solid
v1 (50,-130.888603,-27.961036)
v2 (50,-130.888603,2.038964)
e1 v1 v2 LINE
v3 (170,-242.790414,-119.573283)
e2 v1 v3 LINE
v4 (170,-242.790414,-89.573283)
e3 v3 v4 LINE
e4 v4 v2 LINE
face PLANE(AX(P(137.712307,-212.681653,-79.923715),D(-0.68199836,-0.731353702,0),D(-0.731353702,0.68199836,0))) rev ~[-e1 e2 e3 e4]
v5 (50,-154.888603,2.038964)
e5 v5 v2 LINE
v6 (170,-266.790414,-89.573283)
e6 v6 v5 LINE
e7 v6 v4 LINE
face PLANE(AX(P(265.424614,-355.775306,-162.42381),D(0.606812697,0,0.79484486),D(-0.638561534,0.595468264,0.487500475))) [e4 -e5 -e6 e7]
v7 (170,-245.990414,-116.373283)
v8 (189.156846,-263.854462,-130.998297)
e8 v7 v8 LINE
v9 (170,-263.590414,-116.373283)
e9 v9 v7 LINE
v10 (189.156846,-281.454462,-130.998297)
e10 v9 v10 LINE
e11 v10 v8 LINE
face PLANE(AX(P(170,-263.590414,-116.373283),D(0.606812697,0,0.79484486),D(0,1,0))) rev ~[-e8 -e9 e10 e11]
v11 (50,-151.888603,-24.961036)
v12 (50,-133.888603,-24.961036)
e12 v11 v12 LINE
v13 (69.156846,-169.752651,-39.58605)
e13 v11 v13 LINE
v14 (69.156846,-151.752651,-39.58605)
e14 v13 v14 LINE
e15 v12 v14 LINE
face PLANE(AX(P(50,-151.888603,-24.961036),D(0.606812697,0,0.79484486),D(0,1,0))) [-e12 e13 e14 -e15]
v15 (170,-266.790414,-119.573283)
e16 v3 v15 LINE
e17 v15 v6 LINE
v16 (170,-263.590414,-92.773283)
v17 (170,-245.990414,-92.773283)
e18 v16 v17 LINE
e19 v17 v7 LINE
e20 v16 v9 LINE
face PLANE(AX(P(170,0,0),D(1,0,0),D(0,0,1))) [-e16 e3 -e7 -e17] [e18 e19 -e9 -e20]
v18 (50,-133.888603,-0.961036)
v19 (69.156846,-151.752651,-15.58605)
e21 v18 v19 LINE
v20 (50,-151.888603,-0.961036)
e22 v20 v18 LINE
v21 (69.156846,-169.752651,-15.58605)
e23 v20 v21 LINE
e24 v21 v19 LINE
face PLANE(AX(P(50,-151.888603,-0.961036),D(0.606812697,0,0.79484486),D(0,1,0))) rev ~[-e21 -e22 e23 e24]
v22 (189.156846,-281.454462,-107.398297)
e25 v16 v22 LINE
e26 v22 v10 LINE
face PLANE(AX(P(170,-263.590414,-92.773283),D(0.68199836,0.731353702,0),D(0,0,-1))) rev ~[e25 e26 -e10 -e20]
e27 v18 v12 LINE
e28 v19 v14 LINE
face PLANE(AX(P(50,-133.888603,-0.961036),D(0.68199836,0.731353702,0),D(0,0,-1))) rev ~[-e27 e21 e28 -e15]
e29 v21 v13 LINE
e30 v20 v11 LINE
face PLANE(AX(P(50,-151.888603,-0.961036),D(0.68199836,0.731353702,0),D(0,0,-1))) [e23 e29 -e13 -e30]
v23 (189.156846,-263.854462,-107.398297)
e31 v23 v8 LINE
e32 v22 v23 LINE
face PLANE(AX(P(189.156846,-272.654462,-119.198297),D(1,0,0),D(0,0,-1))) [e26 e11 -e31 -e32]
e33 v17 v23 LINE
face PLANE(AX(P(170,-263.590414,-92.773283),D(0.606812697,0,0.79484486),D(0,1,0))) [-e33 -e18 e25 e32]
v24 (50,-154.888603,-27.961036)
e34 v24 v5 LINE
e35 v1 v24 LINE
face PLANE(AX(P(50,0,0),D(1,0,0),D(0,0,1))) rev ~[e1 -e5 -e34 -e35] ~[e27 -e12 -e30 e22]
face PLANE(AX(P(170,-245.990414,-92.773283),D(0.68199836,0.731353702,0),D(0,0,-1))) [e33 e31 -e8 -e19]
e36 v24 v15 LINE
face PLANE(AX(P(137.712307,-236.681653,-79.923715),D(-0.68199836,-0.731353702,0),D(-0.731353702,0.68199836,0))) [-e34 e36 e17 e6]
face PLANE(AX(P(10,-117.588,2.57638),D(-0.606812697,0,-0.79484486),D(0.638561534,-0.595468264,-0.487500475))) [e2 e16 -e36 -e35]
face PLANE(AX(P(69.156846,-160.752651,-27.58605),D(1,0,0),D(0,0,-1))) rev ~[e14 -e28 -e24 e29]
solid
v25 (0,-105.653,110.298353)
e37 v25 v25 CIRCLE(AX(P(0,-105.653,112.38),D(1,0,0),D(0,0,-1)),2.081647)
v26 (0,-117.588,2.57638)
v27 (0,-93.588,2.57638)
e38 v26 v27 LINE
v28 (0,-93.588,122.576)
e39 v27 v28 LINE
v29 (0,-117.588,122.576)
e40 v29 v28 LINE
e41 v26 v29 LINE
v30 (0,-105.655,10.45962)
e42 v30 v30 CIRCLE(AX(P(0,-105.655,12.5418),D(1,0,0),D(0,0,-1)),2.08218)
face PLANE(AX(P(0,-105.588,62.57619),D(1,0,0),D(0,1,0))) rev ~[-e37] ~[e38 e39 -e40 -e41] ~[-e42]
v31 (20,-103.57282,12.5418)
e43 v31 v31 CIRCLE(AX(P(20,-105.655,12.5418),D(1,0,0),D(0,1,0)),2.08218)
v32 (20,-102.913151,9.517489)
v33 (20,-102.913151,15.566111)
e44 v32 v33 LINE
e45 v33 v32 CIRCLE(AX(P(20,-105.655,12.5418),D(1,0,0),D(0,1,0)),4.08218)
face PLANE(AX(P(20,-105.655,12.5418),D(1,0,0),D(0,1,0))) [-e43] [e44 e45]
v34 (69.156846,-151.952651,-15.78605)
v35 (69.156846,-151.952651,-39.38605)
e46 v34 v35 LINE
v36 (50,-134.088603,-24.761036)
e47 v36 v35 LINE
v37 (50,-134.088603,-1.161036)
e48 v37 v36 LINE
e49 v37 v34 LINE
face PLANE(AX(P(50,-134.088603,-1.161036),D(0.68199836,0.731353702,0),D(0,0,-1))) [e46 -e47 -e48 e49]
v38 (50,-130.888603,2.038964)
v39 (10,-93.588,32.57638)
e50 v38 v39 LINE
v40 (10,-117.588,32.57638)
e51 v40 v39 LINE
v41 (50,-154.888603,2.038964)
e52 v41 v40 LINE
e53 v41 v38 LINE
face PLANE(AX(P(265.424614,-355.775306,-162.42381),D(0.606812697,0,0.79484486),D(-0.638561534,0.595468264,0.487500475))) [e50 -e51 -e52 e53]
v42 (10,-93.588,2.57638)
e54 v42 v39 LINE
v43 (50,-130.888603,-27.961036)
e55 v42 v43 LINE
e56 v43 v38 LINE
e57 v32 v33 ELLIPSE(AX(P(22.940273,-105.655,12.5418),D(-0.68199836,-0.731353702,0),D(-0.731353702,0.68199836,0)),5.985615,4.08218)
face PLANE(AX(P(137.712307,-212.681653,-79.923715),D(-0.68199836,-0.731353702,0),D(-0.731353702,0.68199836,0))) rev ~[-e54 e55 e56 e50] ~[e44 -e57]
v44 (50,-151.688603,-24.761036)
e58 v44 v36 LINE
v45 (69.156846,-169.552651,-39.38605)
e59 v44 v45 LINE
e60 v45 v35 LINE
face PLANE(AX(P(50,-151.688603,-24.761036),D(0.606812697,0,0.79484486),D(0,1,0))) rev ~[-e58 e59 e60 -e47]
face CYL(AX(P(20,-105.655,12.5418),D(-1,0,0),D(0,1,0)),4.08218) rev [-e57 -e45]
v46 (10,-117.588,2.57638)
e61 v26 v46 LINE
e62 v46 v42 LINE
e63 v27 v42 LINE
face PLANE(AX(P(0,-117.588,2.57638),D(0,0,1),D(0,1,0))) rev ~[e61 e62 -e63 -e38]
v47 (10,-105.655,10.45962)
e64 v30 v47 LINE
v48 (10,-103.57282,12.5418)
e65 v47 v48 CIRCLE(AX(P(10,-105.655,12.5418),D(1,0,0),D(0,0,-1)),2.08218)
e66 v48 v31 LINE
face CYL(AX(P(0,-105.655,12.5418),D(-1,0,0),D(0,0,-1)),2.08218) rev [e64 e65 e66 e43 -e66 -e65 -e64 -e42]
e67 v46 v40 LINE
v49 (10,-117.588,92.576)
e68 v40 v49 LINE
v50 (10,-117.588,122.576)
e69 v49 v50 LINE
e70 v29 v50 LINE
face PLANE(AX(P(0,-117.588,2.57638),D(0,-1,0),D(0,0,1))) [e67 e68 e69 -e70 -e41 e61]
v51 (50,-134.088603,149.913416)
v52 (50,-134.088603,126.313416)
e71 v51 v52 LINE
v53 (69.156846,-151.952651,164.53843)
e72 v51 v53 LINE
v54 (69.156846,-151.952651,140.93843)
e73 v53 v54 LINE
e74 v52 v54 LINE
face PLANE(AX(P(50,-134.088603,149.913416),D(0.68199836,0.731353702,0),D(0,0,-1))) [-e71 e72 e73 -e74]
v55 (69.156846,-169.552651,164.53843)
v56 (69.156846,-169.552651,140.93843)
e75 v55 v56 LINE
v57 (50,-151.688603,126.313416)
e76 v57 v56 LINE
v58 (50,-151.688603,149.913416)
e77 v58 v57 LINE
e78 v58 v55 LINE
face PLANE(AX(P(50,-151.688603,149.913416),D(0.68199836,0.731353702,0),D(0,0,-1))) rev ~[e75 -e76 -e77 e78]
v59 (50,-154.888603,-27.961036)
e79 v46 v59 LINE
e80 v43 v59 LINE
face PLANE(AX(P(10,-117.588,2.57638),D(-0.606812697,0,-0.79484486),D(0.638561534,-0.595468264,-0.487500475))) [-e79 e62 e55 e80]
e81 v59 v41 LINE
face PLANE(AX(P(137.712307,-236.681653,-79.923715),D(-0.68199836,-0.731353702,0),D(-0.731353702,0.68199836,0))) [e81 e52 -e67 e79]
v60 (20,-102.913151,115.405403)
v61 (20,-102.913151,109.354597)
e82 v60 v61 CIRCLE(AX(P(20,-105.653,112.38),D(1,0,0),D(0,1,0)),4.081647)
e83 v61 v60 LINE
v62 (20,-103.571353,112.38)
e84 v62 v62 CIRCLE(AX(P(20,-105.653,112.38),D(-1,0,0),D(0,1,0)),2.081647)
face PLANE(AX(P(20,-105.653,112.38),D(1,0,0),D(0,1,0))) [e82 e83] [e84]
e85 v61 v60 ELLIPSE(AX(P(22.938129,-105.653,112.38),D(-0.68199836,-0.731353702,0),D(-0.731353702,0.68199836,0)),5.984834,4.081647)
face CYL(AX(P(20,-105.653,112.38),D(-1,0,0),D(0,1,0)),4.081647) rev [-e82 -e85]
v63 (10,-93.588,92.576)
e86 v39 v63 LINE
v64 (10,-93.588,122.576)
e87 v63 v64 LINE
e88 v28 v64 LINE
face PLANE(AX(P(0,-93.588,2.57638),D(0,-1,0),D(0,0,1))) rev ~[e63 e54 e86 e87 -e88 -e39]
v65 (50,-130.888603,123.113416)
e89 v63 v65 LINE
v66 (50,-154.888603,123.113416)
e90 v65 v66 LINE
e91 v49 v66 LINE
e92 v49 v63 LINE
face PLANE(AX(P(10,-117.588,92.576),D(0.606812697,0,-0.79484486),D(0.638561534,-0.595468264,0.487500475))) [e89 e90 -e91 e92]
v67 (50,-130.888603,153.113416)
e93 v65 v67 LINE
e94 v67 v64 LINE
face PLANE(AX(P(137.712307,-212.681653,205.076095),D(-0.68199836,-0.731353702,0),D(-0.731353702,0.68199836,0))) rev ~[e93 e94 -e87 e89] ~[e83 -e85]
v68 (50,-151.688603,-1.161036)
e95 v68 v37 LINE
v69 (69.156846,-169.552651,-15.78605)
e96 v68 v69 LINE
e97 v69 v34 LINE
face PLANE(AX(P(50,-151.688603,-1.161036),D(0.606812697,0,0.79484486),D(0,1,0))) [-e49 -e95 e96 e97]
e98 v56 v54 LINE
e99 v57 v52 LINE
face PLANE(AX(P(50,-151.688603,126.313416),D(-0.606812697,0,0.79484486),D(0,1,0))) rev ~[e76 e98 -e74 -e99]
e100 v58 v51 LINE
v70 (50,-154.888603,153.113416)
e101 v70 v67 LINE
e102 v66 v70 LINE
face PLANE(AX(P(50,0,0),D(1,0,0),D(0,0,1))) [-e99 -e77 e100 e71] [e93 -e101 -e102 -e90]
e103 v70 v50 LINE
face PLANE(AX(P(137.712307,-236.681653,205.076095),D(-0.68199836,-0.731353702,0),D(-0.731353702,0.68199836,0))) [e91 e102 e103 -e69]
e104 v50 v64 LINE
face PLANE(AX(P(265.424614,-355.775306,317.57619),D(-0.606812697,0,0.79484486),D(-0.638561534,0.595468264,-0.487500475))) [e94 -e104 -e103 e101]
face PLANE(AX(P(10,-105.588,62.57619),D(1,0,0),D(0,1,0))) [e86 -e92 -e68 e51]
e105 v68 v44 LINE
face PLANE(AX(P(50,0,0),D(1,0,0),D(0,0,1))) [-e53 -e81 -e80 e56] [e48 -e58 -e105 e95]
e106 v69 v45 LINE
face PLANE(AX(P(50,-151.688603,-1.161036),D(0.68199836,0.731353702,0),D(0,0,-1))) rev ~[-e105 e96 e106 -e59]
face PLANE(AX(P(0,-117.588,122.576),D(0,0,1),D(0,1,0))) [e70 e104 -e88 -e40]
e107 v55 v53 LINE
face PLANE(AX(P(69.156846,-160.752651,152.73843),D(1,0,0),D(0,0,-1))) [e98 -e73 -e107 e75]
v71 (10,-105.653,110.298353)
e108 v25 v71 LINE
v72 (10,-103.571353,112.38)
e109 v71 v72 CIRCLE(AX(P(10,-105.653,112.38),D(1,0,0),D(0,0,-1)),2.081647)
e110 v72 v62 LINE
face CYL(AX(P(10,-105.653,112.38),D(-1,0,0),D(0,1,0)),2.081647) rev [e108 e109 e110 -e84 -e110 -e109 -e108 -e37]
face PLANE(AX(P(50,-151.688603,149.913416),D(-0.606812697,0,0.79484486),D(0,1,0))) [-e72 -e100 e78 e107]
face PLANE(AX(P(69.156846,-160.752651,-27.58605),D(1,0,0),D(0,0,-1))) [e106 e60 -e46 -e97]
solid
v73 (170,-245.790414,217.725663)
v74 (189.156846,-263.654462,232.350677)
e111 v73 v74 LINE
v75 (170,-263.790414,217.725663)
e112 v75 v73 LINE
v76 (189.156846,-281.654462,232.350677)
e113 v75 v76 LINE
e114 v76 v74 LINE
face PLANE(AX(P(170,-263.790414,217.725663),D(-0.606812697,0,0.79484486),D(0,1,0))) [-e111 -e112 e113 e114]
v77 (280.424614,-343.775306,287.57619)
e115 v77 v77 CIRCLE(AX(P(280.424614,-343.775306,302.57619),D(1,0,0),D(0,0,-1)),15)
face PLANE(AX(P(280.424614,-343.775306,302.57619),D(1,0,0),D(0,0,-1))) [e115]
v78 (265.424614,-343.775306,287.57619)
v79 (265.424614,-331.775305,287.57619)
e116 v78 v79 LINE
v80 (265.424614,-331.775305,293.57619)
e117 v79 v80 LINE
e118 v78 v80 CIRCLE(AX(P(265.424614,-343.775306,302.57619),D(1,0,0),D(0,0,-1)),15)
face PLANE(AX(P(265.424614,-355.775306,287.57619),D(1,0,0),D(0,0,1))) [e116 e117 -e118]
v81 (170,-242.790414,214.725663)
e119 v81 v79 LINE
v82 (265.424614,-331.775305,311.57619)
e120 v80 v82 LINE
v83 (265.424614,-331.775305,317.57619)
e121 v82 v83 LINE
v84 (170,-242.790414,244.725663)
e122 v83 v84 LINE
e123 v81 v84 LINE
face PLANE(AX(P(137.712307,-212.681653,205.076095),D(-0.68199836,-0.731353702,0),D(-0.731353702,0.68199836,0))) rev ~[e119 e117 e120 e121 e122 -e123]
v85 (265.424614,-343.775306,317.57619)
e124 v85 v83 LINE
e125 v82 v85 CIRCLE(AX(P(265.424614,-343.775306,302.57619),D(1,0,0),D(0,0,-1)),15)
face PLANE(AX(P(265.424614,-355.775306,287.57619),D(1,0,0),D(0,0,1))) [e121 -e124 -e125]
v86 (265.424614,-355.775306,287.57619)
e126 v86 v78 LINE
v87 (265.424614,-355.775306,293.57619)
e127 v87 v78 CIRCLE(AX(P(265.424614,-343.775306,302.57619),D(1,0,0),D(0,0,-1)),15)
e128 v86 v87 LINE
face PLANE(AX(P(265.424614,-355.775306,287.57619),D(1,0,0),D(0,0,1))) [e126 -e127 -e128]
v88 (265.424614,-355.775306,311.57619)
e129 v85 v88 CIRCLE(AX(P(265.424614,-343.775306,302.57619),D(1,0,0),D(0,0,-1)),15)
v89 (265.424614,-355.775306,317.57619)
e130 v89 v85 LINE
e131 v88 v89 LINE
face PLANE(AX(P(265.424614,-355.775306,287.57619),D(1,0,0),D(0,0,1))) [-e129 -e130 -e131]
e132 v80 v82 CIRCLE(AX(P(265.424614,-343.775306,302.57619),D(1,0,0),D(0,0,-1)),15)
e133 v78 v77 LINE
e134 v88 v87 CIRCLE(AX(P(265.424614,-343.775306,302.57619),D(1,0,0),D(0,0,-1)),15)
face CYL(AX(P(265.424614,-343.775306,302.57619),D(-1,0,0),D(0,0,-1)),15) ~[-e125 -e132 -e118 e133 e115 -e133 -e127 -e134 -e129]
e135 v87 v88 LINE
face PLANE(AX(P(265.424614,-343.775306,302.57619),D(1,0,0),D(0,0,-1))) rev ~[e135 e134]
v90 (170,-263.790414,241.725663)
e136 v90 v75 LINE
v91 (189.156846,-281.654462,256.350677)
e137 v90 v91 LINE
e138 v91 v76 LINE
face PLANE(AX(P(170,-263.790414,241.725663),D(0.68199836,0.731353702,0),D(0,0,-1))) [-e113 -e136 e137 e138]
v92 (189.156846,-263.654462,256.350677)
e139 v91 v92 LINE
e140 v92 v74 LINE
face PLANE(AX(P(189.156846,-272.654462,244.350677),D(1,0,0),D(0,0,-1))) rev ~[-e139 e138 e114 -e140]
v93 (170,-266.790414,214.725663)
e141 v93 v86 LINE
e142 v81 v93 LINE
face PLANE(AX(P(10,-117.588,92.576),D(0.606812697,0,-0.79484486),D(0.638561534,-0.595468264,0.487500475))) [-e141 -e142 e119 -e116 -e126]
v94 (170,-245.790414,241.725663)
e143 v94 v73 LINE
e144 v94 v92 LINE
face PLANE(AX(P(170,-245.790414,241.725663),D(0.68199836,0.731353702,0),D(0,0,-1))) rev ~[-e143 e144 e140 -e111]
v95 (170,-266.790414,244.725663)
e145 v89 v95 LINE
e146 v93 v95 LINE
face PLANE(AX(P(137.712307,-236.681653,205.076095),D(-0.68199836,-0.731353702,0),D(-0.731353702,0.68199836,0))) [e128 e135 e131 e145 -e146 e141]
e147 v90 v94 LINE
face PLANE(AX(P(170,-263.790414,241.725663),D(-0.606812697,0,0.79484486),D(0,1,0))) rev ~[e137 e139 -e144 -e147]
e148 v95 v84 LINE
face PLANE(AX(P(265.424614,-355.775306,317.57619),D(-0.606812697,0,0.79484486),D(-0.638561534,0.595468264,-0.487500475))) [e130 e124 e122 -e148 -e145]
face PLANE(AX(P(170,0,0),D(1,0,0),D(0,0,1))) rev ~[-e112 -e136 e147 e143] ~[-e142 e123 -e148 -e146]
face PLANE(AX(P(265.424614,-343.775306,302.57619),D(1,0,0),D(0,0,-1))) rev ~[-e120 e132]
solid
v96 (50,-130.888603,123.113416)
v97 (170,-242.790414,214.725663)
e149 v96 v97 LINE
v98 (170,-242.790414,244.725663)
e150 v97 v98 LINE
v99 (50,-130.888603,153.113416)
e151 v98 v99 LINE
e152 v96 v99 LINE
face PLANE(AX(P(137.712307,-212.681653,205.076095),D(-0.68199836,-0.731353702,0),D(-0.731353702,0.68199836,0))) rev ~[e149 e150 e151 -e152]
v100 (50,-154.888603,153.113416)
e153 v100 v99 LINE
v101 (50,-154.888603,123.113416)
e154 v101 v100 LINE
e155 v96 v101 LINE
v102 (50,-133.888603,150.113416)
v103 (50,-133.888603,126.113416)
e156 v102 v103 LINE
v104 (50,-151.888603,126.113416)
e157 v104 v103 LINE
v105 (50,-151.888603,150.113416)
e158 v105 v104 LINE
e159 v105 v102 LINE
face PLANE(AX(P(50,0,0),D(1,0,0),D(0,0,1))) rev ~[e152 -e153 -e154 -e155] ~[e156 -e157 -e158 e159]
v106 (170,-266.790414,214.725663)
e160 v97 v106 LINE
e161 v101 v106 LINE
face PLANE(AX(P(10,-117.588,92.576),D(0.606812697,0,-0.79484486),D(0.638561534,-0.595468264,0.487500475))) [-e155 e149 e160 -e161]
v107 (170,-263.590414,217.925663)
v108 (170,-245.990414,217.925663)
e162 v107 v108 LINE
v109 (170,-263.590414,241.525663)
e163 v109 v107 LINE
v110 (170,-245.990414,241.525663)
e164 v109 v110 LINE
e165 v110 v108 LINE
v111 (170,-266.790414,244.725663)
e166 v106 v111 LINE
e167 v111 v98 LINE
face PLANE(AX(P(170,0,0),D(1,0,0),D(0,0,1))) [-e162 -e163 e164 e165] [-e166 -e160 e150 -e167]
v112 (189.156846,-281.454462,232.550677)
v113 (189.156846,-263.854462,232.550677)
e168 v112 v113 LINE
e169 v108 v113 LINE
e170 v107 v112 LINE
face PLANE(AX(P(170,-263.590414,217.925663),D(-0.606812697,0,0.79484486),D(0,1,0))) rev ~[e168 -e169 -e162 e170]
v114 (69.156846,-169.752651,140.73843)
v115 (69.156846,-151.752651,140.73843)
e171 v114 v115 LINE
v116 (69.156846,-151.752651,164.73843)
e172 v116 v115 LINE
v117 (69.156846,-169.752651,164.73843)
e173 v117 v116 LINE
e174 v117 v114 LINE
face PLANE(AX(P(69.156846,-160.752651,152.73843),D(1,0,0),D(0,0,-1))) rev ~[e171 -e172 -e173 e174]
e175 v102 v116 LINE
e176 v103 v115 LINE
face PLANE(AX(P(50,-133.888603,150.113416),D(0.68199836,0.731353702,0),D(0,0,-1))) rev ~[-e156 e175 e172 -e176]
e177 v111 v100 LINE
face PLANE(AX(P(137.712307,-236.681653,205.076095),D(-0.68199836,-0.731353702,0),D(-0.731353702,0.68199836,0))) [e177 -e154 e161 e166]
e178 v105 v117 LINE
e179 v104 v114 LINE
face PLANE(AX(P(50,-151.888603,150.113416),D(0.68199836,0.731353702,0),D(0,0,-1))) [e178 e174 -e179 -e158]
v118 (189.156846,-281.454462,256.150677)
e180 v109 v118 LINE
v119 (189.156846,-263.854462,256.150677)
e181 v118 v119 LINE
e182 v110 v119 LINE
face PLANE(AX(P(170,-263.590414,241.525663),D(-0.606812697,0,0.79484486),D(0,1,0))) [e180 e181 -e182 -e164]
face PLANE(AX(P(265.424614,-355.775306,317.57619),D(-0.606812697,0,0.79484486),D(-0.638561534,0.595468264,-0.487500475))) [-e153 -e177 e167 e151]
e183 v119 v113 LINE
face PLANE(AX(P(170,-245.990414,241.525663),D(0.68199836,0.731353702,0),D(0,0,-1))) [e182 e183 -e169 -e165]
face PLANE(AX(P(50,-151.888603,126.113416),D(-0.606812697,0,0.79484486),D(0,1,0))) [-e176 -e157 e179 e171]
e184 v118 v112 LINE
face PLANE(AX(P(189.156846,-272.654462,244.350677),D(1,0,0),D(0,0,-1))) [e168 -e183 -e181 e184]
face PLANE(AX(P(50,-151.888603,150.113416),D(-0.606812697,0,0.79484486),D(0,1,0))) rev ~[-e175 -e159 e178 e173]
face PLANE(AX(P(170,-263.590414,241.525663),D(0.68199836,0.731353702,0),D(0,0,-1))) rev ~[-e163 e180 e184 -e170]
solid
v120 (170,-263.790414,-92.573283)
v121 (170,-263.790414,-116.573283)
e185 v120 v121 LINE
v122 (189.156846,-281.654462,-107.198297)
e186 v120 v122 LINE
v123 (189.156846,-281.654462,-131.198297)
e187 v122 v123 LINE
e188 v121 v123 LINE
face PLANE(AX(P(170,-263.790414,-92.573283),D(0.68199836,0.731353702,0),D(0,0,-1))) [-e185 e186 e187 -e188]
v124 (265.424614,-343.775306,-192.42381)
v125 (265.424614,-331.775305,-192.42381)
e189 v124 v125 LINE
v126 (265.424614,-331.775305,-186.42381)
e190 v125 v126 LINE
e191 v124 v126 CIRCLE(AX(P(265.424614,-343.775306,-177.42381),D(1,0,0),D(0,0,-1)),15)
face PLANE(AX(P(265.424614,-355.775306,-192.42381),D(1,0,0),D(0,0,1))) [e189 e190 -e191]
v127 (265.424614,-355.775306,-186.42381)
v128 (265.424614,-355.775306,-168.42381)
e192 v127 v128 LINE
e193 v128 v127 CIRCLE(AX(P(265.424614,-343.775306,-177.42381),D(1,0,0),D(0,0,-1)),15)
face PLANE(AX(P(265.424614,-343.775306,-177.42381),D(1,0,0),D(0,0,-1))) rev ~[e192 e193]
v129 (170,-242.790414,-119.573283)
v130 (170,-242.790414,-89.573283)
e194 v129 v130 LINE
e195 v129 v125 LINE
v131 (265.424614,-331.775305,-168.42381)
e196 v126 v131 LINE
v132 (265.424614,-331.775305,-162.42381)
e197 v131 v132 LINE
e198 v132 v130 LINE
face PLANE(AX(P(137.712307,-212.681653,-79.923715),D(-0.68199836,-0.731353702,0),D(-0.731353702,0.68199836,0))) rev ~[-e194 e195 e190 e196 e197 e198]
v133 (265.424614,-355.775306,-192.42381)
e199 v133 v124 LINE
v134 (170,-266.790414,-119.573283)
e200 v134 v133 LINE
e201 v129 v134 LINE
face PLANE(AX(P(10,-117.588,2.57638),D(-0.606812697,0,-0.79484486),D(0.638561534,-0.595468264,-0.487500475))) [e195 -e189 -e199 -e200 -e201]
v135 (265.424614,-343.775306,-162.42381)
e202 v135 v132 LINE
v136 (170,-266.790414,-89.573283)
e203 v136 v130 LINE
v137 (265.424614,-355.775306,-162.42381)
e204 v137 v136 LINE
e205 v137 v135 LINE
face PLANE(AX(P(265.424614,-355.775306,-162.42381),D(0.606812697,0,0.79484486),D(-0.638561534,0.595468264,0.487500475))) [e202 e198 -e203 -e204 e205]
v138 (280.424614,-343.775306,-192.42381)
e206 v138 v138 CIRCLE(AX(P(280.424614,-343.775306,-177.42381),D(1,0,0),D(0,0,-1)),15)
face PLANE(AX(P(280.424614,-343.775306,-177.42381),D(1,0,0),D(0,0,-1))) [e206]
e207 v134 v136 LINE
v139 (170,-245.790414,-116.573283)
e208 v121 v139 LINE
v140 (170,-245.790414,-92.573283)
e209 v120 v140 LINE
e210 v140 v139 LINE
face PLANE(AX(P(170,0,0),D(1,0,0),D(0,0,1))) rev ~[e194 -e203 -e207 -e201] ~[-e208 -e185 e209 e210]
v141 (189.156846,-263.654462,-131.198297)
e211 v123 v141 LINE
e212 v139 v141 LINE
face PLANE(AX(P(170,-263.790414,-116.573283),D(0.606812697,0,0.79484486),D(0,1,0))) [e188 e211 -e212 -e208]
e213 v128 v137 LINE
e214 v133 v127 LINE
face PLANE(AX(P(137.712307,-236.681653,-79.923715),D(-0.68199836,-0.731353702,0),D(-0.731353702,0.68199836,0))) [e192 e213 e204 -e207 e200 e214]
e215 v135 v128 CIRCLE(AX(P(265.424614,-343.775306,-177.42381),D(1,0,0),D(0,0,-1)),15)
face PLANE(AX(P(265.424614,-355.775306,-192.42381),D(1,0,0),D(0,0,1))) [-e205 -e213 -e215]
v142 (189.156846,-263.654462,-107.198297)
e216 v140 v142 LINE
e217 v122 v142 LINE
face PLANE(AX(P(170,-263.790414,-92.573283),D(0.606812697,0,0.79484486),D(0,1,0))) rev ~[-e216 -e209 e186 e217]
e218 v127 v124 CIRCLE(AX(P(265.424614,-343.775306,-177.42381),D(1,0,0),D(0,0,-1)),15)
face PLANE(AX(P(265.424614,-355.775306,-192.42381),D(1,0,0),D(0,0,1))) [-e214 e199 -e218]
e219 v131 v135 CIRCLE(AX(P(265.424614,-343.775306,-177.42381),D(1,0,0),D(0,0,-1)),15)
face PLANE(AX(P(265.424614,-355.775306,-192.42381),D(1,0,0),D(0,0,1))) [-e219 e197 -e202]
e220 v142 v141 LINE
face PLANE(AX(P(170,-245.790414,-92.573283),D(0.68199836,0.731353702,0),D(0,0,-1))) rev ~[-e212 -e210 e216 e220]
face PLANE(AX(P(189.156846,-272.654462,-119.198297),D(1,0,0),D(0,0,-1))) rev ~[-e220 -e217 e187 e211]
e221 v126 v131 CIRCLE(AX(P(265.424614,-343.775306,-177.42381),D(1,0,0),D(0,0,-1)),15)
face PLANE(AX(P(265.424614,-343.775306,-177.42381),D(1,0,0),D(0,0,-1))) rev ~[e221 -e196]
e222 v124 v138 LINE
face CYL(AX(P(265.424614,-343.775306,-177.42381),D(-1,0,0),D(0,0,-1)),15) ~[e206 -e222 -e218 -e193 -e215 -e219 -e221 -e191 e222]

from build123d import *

# Parameters (mm, degrees)
SKETCH2_W           = 24
SKETCH2_H           = 119.99962
SKETCH2_R           = 2.081646704
SKETCH2_R_2         = 2.082179954
BOSS_EXTRUDE1_DEPTH = 10
BOSS_EXTRUDE2_DEPTH = 24.00000022
SKETCH8_R           = 15
BOSS_EXTRUDE3_DEPTH = 15
SKETCH9_R           = 2.082179954
SKETCH9_R_2         = 2.081646704
CUT_EXTRUDE1_DEPTH  = 551.185267113
CUT_EXTRUDE2_START  = 10
SKETCH10_R          = 4.082179954
SKETCH10_R_2        = 4.081646704
CUT_EXTRUDE2_DEPTH  = 541.185267113
SKETCH11_W          = 24
SKETCH11_H          = 18
CUT_EXTRUDE3_DEPTH  = 30
SKETCH12_W          = 24
SKETCH12_H          = 18
CUT_EXTRUDE4_DEPTH  = 30
SKETCH13_W          = 24
SKETCH13_H          = 18
CUT_EXTRUDE5_DEPTH  = 30
SKETCH14_W          = 24
SKETCH14_H          = 18
CUT_EXTRUDE6_DEPTH  = 30
SKETCH15_W          = 23.6
SKETCH15_H          = 17.6
BOSS_EXTRUDE4_DEPTH = 30
SKETCH16_W          = 23.6
SKETCH16_H          = 17.6
BOSS_EXTRUDE5_DEPTH = 30
SKETCH17_W          = 23.6
SKETCH17_H          = 17.6
BOSS_EXTRUDE6_DEPTH = 30
SKETCH18_W          = 23.6
SKETCH18_H          = 17.6
BOSS_EXTRUDE7_DEPTH = 30


with BuildPart() as part:
    # Sketch2 → Boss-Extrude1 (new body)
    with BuildSketch(Plane.YZ):
        with Locations((-105.588, 62.57619)):
            Rectangle(SKETCH2_W, SKETCH2_H)
        with Locations(Location((-105.653, 112.38, 0), (0, 0, 270))):
            Circle(SKETCH2_R, mode=Mode.SUBTRACT)
        with Locations(Location((-105.655, 12.5418, 0), (0, 0, 270))):
            Circle(SKETCH2_R_2, mode=Mode.SUBTRACT)
    extrude(amount=BOSS_EXTRUDE1_DEPTH)

    # Sketch7 → Boss-Extrude2 (add, along a direction that is not the sketch's normal)
    with BuildSketch(Plane(origin=(-53.99956314, -57.907441866, 0), x_dir=(-0.7313537016191692, 0.6819983600625, 0), z_dir=(-0.6819983600625, -0.7313537016191692, 0))):
        Polygon((-87.508360179, -2.57638), (-436.757448796, 192.42381), (-436.757448796, 162.42381), (-87.508360179, -32.57638), align=None)
        Polygon((-436.757448796, -287.57619), (-436.757448796, -317.57619), (-87.508360179, -122.576), (-87.508360179, -92.576), align=None)
    extrude(amount=-BOSS_EXTRUDE2_DEPTH, dir=(0, -1, 0))

    # Sketch8 → Boss-Extrude3 (add)
    with BuildSketch(Plane.YZ.offset(265.424613747)):
        with Locations(Location((-343.77530569, 302.57619, 0), (0, 0, 270))):
            Circle(SKETCH8_R)
        with Locations(Location((-343.77530569, -177.42381, 0), (0, 0, 270))):
            Circle(SKETCH8_R)
    extrude(amount=BOSS_EXTRUDE3_DEPTH)

    # Sketch9 → Cut-Extrude1 (cut, through all)
    with BuildSketch(Plane.YZ.offset(10)):
        with Locations((-105.655, 12.5418)):
            Circle(SKETCH9_R)
        with Locations((-105.653, 112.38)):
            Circle(SKETCH9_R_2)
    extrude(amount=CUT_EXTRUDE1_DEPTH, mode=Mode.SUBTRACT)

    # Sketch10 → Cut-Extrude2 (cut, through all)
    with BuildSketch(Plane.YZ.offset(10).offset(CUT_EXTRUDE2_START)):
        with Locations((-105.655, 12.5418)):
            Circle(SKETCH10_R)
        with Locations((-105.653, 112.38)):
            Circle(SKETCH10_R_2)
    extrude(amount=CUT_EXTRUDE2_DEPTH, mode=Mode.SUBTRACT)


with BuildPart() as body_2:
    # Split1: the piece on the far side of the plane
    add(part.part)
    split(bisect_by=Plane(origin=(50, 0, 0), x_dir=(0, 0, 1), z_dir=(1, 0, 0)), keep=Keep.BOTTOM)


with BuildPart() as part_1:
    add(part.part)

    # Split1
    split(bisect_by=Plane(origin=(50, 0, 0), x_dir=(0, 0, 1), z_dir=(1, 0, 0)), keep=Keep.TOP)


with BuildPart() as body_3:
    # Split2: the piece on the far side of the plane
    add(part_1.part)
    split(bisect_by=Plane(origin=(170, 0, 0), x_dir=(0, 0, 1), z_dir=(1, 0, 0)), keep=Keep.BOTTOM)

    # Sketch11 → Cut-Extrude3 (cut, along a direction that is not the sketch's normal)
    with BuildSketch(Plane(origin=(50, 0, 0), x_dir=(0, 0, -1), z_dir=(1, 0, 0))):
        with Locations((-138.113415661, -142.888603446)):
            Rectangle(SKETCH11_W, SKETCH11_H)
    extrude(amount=CUT_EXTRUDE3_DEPTH, dir=(0.6385615343683262, -0.5954682642256793, 0.48750047500000016), mode=Mode.SUBTRACT)

    # Sketch12 → Cut-Extrude4 (cut, along a direction that is not the sketch's normal)
    with BuildSketch(Plane(origin=(50, 0, 0), x_dir=(0, 0, -1), z_dir=(1, 0, 0))):
        with Locations((12.961035661, -142.888603446)):
            Rectangle(SKETCH12_W, SKETCH12_H)
    extrude(amount=CUT_EXTRUDE4_DEPTH, dir=(0.6385615343683262, -0.5954682642256797, -0.4875004749999997), mode=Mode.SUBTRACT)


with BuildPart() as part_2:
    add(part_1.part)

    # Split2
    split(bisect_by=Plane(origin=(170, 0, 0), x_dir=(0, 0, 1), z_dir=(1, 0, 0)), keep=Keep.TOP)

    # Sketch13 → Cut-Extrude5 (cut, along a direction that is not the sketch's normal)
    with BuildSketch(Plane(origin=(170, 0, 0), x_dir=(0, 0, -1), z_dir=(1, 0, 0))):
        with Locations((-229.725662643, -254.790413782)):
            Rectangle(SKETCH13_W, SKETCH13_H)
    extrude(amount=CUT_EXTRUDE5_DEPTH, dir=(0.6385615343683262, -0.5954682642256793, 0.48750047500000016), mode=Mode.SUBTRACT)

    # Sketch14 → Cut-Extrude6 (cut, along a direction that is not the sketch's normal)
    with BuildSketch(Plane(origin=(170, 0, 0), x_dir=(0, 0, -1), z_dir=(1, 0, 0))):
        with Locations((104.573282643, -254.790413782)):
            Rectangle(SKETCH14_W, SKETCH14_H)
    extrude(amount=CUT_EXTRUDE6_DEPTH, dir=(0.6385615343683262, -0.5954682642256797, -0.4875004749999997), mode=Mode.SUBTRACT)


with BuildPart() as body_4:
    # Sketch15 → Boss-Extrude4 (new, along a direction that is not the sketch's normal)
    with BuildSketch(Plane(origin=(50, 0, 0), x_dir=(0, 0, -1), z_dir=(1, 0, 0))):
        with Locations((-138.113415661, -142.888603446)):
            Rectangle(SKETCH15_W, SKETCH15_H)
    extrude(amount=BOSS_EXTRUDE4_DEPTH, dir=(0.6385615343683262, -0.5954682642256793, 0.48750047500000016))


with BuildPart() as body_5:
    # Sketch16 → Boss-Extrude5 (new, along a direction that is not the sketch's normal)
    with BuildSketch(Plane(origin=(50, 0, 0), x_dir=(0, 0, -1), z_dir=(1, 0, 0))):
        with Locations((12.961035661, -142.888603446)):
            Rectangle(SKETCH16_W, SKETCH16_H)
    extrude(amount=BOSS_EXTRUDE5_DEPTH, dir=(0.6385615343683262, -0.5954682642256797, -0.4875004749999997))


with BuildPart() as body_2_1:
    add(body_2.part)

    # Combine1: union body 5, body 4
    add(body_5.part)
    add(body_4.part)


with BuildPart() as body_4_2:
    # Sketch17 → Boss-Extrude6 (new, along a direction that is not the sketch's normal)
    with BuildSketch(Plane(origin=(170, 0, 0), x_dir=(0, 0, -1), z_dir=(1, 0, 0))):
        with Locations((-229.725662643, -254.790413782)):
            Rectangle(SKETCH17_W, SKETCH17_H)
    extrude(amount=BOSS_EXTRUDE6_DEPTH, dir=(0.6385615343683262, -0.5954682642256793, 0.48750047500000016))

    # Combine2: union body 3
    add(body_3.part)


with BuildPart() as body_5_2:
    # Sketch18 → Boss-Extrude7 (new, along a direction that is not the sketch's normal)
    with BuildSketch(Plane(origin=(170, 0, 0), x_dir=(0, 0, -1), z_dir=(1, 0, 0))):
        with Locations((104.573282643, -254.790413782)):
            Rectangle(SKETCH18_W, SKETCH18_H)
    extrude(amount=BOSS_EXTRUDE7_DEPTH, dir=(0.6385615343683262, -0.5954682642256797, -0.4875004749999997))

    # Combine3: union body 4 2
    add(body_4_2.part)


solid = Compound([part_2.part, body_2_1.part, body_5_2.part])
